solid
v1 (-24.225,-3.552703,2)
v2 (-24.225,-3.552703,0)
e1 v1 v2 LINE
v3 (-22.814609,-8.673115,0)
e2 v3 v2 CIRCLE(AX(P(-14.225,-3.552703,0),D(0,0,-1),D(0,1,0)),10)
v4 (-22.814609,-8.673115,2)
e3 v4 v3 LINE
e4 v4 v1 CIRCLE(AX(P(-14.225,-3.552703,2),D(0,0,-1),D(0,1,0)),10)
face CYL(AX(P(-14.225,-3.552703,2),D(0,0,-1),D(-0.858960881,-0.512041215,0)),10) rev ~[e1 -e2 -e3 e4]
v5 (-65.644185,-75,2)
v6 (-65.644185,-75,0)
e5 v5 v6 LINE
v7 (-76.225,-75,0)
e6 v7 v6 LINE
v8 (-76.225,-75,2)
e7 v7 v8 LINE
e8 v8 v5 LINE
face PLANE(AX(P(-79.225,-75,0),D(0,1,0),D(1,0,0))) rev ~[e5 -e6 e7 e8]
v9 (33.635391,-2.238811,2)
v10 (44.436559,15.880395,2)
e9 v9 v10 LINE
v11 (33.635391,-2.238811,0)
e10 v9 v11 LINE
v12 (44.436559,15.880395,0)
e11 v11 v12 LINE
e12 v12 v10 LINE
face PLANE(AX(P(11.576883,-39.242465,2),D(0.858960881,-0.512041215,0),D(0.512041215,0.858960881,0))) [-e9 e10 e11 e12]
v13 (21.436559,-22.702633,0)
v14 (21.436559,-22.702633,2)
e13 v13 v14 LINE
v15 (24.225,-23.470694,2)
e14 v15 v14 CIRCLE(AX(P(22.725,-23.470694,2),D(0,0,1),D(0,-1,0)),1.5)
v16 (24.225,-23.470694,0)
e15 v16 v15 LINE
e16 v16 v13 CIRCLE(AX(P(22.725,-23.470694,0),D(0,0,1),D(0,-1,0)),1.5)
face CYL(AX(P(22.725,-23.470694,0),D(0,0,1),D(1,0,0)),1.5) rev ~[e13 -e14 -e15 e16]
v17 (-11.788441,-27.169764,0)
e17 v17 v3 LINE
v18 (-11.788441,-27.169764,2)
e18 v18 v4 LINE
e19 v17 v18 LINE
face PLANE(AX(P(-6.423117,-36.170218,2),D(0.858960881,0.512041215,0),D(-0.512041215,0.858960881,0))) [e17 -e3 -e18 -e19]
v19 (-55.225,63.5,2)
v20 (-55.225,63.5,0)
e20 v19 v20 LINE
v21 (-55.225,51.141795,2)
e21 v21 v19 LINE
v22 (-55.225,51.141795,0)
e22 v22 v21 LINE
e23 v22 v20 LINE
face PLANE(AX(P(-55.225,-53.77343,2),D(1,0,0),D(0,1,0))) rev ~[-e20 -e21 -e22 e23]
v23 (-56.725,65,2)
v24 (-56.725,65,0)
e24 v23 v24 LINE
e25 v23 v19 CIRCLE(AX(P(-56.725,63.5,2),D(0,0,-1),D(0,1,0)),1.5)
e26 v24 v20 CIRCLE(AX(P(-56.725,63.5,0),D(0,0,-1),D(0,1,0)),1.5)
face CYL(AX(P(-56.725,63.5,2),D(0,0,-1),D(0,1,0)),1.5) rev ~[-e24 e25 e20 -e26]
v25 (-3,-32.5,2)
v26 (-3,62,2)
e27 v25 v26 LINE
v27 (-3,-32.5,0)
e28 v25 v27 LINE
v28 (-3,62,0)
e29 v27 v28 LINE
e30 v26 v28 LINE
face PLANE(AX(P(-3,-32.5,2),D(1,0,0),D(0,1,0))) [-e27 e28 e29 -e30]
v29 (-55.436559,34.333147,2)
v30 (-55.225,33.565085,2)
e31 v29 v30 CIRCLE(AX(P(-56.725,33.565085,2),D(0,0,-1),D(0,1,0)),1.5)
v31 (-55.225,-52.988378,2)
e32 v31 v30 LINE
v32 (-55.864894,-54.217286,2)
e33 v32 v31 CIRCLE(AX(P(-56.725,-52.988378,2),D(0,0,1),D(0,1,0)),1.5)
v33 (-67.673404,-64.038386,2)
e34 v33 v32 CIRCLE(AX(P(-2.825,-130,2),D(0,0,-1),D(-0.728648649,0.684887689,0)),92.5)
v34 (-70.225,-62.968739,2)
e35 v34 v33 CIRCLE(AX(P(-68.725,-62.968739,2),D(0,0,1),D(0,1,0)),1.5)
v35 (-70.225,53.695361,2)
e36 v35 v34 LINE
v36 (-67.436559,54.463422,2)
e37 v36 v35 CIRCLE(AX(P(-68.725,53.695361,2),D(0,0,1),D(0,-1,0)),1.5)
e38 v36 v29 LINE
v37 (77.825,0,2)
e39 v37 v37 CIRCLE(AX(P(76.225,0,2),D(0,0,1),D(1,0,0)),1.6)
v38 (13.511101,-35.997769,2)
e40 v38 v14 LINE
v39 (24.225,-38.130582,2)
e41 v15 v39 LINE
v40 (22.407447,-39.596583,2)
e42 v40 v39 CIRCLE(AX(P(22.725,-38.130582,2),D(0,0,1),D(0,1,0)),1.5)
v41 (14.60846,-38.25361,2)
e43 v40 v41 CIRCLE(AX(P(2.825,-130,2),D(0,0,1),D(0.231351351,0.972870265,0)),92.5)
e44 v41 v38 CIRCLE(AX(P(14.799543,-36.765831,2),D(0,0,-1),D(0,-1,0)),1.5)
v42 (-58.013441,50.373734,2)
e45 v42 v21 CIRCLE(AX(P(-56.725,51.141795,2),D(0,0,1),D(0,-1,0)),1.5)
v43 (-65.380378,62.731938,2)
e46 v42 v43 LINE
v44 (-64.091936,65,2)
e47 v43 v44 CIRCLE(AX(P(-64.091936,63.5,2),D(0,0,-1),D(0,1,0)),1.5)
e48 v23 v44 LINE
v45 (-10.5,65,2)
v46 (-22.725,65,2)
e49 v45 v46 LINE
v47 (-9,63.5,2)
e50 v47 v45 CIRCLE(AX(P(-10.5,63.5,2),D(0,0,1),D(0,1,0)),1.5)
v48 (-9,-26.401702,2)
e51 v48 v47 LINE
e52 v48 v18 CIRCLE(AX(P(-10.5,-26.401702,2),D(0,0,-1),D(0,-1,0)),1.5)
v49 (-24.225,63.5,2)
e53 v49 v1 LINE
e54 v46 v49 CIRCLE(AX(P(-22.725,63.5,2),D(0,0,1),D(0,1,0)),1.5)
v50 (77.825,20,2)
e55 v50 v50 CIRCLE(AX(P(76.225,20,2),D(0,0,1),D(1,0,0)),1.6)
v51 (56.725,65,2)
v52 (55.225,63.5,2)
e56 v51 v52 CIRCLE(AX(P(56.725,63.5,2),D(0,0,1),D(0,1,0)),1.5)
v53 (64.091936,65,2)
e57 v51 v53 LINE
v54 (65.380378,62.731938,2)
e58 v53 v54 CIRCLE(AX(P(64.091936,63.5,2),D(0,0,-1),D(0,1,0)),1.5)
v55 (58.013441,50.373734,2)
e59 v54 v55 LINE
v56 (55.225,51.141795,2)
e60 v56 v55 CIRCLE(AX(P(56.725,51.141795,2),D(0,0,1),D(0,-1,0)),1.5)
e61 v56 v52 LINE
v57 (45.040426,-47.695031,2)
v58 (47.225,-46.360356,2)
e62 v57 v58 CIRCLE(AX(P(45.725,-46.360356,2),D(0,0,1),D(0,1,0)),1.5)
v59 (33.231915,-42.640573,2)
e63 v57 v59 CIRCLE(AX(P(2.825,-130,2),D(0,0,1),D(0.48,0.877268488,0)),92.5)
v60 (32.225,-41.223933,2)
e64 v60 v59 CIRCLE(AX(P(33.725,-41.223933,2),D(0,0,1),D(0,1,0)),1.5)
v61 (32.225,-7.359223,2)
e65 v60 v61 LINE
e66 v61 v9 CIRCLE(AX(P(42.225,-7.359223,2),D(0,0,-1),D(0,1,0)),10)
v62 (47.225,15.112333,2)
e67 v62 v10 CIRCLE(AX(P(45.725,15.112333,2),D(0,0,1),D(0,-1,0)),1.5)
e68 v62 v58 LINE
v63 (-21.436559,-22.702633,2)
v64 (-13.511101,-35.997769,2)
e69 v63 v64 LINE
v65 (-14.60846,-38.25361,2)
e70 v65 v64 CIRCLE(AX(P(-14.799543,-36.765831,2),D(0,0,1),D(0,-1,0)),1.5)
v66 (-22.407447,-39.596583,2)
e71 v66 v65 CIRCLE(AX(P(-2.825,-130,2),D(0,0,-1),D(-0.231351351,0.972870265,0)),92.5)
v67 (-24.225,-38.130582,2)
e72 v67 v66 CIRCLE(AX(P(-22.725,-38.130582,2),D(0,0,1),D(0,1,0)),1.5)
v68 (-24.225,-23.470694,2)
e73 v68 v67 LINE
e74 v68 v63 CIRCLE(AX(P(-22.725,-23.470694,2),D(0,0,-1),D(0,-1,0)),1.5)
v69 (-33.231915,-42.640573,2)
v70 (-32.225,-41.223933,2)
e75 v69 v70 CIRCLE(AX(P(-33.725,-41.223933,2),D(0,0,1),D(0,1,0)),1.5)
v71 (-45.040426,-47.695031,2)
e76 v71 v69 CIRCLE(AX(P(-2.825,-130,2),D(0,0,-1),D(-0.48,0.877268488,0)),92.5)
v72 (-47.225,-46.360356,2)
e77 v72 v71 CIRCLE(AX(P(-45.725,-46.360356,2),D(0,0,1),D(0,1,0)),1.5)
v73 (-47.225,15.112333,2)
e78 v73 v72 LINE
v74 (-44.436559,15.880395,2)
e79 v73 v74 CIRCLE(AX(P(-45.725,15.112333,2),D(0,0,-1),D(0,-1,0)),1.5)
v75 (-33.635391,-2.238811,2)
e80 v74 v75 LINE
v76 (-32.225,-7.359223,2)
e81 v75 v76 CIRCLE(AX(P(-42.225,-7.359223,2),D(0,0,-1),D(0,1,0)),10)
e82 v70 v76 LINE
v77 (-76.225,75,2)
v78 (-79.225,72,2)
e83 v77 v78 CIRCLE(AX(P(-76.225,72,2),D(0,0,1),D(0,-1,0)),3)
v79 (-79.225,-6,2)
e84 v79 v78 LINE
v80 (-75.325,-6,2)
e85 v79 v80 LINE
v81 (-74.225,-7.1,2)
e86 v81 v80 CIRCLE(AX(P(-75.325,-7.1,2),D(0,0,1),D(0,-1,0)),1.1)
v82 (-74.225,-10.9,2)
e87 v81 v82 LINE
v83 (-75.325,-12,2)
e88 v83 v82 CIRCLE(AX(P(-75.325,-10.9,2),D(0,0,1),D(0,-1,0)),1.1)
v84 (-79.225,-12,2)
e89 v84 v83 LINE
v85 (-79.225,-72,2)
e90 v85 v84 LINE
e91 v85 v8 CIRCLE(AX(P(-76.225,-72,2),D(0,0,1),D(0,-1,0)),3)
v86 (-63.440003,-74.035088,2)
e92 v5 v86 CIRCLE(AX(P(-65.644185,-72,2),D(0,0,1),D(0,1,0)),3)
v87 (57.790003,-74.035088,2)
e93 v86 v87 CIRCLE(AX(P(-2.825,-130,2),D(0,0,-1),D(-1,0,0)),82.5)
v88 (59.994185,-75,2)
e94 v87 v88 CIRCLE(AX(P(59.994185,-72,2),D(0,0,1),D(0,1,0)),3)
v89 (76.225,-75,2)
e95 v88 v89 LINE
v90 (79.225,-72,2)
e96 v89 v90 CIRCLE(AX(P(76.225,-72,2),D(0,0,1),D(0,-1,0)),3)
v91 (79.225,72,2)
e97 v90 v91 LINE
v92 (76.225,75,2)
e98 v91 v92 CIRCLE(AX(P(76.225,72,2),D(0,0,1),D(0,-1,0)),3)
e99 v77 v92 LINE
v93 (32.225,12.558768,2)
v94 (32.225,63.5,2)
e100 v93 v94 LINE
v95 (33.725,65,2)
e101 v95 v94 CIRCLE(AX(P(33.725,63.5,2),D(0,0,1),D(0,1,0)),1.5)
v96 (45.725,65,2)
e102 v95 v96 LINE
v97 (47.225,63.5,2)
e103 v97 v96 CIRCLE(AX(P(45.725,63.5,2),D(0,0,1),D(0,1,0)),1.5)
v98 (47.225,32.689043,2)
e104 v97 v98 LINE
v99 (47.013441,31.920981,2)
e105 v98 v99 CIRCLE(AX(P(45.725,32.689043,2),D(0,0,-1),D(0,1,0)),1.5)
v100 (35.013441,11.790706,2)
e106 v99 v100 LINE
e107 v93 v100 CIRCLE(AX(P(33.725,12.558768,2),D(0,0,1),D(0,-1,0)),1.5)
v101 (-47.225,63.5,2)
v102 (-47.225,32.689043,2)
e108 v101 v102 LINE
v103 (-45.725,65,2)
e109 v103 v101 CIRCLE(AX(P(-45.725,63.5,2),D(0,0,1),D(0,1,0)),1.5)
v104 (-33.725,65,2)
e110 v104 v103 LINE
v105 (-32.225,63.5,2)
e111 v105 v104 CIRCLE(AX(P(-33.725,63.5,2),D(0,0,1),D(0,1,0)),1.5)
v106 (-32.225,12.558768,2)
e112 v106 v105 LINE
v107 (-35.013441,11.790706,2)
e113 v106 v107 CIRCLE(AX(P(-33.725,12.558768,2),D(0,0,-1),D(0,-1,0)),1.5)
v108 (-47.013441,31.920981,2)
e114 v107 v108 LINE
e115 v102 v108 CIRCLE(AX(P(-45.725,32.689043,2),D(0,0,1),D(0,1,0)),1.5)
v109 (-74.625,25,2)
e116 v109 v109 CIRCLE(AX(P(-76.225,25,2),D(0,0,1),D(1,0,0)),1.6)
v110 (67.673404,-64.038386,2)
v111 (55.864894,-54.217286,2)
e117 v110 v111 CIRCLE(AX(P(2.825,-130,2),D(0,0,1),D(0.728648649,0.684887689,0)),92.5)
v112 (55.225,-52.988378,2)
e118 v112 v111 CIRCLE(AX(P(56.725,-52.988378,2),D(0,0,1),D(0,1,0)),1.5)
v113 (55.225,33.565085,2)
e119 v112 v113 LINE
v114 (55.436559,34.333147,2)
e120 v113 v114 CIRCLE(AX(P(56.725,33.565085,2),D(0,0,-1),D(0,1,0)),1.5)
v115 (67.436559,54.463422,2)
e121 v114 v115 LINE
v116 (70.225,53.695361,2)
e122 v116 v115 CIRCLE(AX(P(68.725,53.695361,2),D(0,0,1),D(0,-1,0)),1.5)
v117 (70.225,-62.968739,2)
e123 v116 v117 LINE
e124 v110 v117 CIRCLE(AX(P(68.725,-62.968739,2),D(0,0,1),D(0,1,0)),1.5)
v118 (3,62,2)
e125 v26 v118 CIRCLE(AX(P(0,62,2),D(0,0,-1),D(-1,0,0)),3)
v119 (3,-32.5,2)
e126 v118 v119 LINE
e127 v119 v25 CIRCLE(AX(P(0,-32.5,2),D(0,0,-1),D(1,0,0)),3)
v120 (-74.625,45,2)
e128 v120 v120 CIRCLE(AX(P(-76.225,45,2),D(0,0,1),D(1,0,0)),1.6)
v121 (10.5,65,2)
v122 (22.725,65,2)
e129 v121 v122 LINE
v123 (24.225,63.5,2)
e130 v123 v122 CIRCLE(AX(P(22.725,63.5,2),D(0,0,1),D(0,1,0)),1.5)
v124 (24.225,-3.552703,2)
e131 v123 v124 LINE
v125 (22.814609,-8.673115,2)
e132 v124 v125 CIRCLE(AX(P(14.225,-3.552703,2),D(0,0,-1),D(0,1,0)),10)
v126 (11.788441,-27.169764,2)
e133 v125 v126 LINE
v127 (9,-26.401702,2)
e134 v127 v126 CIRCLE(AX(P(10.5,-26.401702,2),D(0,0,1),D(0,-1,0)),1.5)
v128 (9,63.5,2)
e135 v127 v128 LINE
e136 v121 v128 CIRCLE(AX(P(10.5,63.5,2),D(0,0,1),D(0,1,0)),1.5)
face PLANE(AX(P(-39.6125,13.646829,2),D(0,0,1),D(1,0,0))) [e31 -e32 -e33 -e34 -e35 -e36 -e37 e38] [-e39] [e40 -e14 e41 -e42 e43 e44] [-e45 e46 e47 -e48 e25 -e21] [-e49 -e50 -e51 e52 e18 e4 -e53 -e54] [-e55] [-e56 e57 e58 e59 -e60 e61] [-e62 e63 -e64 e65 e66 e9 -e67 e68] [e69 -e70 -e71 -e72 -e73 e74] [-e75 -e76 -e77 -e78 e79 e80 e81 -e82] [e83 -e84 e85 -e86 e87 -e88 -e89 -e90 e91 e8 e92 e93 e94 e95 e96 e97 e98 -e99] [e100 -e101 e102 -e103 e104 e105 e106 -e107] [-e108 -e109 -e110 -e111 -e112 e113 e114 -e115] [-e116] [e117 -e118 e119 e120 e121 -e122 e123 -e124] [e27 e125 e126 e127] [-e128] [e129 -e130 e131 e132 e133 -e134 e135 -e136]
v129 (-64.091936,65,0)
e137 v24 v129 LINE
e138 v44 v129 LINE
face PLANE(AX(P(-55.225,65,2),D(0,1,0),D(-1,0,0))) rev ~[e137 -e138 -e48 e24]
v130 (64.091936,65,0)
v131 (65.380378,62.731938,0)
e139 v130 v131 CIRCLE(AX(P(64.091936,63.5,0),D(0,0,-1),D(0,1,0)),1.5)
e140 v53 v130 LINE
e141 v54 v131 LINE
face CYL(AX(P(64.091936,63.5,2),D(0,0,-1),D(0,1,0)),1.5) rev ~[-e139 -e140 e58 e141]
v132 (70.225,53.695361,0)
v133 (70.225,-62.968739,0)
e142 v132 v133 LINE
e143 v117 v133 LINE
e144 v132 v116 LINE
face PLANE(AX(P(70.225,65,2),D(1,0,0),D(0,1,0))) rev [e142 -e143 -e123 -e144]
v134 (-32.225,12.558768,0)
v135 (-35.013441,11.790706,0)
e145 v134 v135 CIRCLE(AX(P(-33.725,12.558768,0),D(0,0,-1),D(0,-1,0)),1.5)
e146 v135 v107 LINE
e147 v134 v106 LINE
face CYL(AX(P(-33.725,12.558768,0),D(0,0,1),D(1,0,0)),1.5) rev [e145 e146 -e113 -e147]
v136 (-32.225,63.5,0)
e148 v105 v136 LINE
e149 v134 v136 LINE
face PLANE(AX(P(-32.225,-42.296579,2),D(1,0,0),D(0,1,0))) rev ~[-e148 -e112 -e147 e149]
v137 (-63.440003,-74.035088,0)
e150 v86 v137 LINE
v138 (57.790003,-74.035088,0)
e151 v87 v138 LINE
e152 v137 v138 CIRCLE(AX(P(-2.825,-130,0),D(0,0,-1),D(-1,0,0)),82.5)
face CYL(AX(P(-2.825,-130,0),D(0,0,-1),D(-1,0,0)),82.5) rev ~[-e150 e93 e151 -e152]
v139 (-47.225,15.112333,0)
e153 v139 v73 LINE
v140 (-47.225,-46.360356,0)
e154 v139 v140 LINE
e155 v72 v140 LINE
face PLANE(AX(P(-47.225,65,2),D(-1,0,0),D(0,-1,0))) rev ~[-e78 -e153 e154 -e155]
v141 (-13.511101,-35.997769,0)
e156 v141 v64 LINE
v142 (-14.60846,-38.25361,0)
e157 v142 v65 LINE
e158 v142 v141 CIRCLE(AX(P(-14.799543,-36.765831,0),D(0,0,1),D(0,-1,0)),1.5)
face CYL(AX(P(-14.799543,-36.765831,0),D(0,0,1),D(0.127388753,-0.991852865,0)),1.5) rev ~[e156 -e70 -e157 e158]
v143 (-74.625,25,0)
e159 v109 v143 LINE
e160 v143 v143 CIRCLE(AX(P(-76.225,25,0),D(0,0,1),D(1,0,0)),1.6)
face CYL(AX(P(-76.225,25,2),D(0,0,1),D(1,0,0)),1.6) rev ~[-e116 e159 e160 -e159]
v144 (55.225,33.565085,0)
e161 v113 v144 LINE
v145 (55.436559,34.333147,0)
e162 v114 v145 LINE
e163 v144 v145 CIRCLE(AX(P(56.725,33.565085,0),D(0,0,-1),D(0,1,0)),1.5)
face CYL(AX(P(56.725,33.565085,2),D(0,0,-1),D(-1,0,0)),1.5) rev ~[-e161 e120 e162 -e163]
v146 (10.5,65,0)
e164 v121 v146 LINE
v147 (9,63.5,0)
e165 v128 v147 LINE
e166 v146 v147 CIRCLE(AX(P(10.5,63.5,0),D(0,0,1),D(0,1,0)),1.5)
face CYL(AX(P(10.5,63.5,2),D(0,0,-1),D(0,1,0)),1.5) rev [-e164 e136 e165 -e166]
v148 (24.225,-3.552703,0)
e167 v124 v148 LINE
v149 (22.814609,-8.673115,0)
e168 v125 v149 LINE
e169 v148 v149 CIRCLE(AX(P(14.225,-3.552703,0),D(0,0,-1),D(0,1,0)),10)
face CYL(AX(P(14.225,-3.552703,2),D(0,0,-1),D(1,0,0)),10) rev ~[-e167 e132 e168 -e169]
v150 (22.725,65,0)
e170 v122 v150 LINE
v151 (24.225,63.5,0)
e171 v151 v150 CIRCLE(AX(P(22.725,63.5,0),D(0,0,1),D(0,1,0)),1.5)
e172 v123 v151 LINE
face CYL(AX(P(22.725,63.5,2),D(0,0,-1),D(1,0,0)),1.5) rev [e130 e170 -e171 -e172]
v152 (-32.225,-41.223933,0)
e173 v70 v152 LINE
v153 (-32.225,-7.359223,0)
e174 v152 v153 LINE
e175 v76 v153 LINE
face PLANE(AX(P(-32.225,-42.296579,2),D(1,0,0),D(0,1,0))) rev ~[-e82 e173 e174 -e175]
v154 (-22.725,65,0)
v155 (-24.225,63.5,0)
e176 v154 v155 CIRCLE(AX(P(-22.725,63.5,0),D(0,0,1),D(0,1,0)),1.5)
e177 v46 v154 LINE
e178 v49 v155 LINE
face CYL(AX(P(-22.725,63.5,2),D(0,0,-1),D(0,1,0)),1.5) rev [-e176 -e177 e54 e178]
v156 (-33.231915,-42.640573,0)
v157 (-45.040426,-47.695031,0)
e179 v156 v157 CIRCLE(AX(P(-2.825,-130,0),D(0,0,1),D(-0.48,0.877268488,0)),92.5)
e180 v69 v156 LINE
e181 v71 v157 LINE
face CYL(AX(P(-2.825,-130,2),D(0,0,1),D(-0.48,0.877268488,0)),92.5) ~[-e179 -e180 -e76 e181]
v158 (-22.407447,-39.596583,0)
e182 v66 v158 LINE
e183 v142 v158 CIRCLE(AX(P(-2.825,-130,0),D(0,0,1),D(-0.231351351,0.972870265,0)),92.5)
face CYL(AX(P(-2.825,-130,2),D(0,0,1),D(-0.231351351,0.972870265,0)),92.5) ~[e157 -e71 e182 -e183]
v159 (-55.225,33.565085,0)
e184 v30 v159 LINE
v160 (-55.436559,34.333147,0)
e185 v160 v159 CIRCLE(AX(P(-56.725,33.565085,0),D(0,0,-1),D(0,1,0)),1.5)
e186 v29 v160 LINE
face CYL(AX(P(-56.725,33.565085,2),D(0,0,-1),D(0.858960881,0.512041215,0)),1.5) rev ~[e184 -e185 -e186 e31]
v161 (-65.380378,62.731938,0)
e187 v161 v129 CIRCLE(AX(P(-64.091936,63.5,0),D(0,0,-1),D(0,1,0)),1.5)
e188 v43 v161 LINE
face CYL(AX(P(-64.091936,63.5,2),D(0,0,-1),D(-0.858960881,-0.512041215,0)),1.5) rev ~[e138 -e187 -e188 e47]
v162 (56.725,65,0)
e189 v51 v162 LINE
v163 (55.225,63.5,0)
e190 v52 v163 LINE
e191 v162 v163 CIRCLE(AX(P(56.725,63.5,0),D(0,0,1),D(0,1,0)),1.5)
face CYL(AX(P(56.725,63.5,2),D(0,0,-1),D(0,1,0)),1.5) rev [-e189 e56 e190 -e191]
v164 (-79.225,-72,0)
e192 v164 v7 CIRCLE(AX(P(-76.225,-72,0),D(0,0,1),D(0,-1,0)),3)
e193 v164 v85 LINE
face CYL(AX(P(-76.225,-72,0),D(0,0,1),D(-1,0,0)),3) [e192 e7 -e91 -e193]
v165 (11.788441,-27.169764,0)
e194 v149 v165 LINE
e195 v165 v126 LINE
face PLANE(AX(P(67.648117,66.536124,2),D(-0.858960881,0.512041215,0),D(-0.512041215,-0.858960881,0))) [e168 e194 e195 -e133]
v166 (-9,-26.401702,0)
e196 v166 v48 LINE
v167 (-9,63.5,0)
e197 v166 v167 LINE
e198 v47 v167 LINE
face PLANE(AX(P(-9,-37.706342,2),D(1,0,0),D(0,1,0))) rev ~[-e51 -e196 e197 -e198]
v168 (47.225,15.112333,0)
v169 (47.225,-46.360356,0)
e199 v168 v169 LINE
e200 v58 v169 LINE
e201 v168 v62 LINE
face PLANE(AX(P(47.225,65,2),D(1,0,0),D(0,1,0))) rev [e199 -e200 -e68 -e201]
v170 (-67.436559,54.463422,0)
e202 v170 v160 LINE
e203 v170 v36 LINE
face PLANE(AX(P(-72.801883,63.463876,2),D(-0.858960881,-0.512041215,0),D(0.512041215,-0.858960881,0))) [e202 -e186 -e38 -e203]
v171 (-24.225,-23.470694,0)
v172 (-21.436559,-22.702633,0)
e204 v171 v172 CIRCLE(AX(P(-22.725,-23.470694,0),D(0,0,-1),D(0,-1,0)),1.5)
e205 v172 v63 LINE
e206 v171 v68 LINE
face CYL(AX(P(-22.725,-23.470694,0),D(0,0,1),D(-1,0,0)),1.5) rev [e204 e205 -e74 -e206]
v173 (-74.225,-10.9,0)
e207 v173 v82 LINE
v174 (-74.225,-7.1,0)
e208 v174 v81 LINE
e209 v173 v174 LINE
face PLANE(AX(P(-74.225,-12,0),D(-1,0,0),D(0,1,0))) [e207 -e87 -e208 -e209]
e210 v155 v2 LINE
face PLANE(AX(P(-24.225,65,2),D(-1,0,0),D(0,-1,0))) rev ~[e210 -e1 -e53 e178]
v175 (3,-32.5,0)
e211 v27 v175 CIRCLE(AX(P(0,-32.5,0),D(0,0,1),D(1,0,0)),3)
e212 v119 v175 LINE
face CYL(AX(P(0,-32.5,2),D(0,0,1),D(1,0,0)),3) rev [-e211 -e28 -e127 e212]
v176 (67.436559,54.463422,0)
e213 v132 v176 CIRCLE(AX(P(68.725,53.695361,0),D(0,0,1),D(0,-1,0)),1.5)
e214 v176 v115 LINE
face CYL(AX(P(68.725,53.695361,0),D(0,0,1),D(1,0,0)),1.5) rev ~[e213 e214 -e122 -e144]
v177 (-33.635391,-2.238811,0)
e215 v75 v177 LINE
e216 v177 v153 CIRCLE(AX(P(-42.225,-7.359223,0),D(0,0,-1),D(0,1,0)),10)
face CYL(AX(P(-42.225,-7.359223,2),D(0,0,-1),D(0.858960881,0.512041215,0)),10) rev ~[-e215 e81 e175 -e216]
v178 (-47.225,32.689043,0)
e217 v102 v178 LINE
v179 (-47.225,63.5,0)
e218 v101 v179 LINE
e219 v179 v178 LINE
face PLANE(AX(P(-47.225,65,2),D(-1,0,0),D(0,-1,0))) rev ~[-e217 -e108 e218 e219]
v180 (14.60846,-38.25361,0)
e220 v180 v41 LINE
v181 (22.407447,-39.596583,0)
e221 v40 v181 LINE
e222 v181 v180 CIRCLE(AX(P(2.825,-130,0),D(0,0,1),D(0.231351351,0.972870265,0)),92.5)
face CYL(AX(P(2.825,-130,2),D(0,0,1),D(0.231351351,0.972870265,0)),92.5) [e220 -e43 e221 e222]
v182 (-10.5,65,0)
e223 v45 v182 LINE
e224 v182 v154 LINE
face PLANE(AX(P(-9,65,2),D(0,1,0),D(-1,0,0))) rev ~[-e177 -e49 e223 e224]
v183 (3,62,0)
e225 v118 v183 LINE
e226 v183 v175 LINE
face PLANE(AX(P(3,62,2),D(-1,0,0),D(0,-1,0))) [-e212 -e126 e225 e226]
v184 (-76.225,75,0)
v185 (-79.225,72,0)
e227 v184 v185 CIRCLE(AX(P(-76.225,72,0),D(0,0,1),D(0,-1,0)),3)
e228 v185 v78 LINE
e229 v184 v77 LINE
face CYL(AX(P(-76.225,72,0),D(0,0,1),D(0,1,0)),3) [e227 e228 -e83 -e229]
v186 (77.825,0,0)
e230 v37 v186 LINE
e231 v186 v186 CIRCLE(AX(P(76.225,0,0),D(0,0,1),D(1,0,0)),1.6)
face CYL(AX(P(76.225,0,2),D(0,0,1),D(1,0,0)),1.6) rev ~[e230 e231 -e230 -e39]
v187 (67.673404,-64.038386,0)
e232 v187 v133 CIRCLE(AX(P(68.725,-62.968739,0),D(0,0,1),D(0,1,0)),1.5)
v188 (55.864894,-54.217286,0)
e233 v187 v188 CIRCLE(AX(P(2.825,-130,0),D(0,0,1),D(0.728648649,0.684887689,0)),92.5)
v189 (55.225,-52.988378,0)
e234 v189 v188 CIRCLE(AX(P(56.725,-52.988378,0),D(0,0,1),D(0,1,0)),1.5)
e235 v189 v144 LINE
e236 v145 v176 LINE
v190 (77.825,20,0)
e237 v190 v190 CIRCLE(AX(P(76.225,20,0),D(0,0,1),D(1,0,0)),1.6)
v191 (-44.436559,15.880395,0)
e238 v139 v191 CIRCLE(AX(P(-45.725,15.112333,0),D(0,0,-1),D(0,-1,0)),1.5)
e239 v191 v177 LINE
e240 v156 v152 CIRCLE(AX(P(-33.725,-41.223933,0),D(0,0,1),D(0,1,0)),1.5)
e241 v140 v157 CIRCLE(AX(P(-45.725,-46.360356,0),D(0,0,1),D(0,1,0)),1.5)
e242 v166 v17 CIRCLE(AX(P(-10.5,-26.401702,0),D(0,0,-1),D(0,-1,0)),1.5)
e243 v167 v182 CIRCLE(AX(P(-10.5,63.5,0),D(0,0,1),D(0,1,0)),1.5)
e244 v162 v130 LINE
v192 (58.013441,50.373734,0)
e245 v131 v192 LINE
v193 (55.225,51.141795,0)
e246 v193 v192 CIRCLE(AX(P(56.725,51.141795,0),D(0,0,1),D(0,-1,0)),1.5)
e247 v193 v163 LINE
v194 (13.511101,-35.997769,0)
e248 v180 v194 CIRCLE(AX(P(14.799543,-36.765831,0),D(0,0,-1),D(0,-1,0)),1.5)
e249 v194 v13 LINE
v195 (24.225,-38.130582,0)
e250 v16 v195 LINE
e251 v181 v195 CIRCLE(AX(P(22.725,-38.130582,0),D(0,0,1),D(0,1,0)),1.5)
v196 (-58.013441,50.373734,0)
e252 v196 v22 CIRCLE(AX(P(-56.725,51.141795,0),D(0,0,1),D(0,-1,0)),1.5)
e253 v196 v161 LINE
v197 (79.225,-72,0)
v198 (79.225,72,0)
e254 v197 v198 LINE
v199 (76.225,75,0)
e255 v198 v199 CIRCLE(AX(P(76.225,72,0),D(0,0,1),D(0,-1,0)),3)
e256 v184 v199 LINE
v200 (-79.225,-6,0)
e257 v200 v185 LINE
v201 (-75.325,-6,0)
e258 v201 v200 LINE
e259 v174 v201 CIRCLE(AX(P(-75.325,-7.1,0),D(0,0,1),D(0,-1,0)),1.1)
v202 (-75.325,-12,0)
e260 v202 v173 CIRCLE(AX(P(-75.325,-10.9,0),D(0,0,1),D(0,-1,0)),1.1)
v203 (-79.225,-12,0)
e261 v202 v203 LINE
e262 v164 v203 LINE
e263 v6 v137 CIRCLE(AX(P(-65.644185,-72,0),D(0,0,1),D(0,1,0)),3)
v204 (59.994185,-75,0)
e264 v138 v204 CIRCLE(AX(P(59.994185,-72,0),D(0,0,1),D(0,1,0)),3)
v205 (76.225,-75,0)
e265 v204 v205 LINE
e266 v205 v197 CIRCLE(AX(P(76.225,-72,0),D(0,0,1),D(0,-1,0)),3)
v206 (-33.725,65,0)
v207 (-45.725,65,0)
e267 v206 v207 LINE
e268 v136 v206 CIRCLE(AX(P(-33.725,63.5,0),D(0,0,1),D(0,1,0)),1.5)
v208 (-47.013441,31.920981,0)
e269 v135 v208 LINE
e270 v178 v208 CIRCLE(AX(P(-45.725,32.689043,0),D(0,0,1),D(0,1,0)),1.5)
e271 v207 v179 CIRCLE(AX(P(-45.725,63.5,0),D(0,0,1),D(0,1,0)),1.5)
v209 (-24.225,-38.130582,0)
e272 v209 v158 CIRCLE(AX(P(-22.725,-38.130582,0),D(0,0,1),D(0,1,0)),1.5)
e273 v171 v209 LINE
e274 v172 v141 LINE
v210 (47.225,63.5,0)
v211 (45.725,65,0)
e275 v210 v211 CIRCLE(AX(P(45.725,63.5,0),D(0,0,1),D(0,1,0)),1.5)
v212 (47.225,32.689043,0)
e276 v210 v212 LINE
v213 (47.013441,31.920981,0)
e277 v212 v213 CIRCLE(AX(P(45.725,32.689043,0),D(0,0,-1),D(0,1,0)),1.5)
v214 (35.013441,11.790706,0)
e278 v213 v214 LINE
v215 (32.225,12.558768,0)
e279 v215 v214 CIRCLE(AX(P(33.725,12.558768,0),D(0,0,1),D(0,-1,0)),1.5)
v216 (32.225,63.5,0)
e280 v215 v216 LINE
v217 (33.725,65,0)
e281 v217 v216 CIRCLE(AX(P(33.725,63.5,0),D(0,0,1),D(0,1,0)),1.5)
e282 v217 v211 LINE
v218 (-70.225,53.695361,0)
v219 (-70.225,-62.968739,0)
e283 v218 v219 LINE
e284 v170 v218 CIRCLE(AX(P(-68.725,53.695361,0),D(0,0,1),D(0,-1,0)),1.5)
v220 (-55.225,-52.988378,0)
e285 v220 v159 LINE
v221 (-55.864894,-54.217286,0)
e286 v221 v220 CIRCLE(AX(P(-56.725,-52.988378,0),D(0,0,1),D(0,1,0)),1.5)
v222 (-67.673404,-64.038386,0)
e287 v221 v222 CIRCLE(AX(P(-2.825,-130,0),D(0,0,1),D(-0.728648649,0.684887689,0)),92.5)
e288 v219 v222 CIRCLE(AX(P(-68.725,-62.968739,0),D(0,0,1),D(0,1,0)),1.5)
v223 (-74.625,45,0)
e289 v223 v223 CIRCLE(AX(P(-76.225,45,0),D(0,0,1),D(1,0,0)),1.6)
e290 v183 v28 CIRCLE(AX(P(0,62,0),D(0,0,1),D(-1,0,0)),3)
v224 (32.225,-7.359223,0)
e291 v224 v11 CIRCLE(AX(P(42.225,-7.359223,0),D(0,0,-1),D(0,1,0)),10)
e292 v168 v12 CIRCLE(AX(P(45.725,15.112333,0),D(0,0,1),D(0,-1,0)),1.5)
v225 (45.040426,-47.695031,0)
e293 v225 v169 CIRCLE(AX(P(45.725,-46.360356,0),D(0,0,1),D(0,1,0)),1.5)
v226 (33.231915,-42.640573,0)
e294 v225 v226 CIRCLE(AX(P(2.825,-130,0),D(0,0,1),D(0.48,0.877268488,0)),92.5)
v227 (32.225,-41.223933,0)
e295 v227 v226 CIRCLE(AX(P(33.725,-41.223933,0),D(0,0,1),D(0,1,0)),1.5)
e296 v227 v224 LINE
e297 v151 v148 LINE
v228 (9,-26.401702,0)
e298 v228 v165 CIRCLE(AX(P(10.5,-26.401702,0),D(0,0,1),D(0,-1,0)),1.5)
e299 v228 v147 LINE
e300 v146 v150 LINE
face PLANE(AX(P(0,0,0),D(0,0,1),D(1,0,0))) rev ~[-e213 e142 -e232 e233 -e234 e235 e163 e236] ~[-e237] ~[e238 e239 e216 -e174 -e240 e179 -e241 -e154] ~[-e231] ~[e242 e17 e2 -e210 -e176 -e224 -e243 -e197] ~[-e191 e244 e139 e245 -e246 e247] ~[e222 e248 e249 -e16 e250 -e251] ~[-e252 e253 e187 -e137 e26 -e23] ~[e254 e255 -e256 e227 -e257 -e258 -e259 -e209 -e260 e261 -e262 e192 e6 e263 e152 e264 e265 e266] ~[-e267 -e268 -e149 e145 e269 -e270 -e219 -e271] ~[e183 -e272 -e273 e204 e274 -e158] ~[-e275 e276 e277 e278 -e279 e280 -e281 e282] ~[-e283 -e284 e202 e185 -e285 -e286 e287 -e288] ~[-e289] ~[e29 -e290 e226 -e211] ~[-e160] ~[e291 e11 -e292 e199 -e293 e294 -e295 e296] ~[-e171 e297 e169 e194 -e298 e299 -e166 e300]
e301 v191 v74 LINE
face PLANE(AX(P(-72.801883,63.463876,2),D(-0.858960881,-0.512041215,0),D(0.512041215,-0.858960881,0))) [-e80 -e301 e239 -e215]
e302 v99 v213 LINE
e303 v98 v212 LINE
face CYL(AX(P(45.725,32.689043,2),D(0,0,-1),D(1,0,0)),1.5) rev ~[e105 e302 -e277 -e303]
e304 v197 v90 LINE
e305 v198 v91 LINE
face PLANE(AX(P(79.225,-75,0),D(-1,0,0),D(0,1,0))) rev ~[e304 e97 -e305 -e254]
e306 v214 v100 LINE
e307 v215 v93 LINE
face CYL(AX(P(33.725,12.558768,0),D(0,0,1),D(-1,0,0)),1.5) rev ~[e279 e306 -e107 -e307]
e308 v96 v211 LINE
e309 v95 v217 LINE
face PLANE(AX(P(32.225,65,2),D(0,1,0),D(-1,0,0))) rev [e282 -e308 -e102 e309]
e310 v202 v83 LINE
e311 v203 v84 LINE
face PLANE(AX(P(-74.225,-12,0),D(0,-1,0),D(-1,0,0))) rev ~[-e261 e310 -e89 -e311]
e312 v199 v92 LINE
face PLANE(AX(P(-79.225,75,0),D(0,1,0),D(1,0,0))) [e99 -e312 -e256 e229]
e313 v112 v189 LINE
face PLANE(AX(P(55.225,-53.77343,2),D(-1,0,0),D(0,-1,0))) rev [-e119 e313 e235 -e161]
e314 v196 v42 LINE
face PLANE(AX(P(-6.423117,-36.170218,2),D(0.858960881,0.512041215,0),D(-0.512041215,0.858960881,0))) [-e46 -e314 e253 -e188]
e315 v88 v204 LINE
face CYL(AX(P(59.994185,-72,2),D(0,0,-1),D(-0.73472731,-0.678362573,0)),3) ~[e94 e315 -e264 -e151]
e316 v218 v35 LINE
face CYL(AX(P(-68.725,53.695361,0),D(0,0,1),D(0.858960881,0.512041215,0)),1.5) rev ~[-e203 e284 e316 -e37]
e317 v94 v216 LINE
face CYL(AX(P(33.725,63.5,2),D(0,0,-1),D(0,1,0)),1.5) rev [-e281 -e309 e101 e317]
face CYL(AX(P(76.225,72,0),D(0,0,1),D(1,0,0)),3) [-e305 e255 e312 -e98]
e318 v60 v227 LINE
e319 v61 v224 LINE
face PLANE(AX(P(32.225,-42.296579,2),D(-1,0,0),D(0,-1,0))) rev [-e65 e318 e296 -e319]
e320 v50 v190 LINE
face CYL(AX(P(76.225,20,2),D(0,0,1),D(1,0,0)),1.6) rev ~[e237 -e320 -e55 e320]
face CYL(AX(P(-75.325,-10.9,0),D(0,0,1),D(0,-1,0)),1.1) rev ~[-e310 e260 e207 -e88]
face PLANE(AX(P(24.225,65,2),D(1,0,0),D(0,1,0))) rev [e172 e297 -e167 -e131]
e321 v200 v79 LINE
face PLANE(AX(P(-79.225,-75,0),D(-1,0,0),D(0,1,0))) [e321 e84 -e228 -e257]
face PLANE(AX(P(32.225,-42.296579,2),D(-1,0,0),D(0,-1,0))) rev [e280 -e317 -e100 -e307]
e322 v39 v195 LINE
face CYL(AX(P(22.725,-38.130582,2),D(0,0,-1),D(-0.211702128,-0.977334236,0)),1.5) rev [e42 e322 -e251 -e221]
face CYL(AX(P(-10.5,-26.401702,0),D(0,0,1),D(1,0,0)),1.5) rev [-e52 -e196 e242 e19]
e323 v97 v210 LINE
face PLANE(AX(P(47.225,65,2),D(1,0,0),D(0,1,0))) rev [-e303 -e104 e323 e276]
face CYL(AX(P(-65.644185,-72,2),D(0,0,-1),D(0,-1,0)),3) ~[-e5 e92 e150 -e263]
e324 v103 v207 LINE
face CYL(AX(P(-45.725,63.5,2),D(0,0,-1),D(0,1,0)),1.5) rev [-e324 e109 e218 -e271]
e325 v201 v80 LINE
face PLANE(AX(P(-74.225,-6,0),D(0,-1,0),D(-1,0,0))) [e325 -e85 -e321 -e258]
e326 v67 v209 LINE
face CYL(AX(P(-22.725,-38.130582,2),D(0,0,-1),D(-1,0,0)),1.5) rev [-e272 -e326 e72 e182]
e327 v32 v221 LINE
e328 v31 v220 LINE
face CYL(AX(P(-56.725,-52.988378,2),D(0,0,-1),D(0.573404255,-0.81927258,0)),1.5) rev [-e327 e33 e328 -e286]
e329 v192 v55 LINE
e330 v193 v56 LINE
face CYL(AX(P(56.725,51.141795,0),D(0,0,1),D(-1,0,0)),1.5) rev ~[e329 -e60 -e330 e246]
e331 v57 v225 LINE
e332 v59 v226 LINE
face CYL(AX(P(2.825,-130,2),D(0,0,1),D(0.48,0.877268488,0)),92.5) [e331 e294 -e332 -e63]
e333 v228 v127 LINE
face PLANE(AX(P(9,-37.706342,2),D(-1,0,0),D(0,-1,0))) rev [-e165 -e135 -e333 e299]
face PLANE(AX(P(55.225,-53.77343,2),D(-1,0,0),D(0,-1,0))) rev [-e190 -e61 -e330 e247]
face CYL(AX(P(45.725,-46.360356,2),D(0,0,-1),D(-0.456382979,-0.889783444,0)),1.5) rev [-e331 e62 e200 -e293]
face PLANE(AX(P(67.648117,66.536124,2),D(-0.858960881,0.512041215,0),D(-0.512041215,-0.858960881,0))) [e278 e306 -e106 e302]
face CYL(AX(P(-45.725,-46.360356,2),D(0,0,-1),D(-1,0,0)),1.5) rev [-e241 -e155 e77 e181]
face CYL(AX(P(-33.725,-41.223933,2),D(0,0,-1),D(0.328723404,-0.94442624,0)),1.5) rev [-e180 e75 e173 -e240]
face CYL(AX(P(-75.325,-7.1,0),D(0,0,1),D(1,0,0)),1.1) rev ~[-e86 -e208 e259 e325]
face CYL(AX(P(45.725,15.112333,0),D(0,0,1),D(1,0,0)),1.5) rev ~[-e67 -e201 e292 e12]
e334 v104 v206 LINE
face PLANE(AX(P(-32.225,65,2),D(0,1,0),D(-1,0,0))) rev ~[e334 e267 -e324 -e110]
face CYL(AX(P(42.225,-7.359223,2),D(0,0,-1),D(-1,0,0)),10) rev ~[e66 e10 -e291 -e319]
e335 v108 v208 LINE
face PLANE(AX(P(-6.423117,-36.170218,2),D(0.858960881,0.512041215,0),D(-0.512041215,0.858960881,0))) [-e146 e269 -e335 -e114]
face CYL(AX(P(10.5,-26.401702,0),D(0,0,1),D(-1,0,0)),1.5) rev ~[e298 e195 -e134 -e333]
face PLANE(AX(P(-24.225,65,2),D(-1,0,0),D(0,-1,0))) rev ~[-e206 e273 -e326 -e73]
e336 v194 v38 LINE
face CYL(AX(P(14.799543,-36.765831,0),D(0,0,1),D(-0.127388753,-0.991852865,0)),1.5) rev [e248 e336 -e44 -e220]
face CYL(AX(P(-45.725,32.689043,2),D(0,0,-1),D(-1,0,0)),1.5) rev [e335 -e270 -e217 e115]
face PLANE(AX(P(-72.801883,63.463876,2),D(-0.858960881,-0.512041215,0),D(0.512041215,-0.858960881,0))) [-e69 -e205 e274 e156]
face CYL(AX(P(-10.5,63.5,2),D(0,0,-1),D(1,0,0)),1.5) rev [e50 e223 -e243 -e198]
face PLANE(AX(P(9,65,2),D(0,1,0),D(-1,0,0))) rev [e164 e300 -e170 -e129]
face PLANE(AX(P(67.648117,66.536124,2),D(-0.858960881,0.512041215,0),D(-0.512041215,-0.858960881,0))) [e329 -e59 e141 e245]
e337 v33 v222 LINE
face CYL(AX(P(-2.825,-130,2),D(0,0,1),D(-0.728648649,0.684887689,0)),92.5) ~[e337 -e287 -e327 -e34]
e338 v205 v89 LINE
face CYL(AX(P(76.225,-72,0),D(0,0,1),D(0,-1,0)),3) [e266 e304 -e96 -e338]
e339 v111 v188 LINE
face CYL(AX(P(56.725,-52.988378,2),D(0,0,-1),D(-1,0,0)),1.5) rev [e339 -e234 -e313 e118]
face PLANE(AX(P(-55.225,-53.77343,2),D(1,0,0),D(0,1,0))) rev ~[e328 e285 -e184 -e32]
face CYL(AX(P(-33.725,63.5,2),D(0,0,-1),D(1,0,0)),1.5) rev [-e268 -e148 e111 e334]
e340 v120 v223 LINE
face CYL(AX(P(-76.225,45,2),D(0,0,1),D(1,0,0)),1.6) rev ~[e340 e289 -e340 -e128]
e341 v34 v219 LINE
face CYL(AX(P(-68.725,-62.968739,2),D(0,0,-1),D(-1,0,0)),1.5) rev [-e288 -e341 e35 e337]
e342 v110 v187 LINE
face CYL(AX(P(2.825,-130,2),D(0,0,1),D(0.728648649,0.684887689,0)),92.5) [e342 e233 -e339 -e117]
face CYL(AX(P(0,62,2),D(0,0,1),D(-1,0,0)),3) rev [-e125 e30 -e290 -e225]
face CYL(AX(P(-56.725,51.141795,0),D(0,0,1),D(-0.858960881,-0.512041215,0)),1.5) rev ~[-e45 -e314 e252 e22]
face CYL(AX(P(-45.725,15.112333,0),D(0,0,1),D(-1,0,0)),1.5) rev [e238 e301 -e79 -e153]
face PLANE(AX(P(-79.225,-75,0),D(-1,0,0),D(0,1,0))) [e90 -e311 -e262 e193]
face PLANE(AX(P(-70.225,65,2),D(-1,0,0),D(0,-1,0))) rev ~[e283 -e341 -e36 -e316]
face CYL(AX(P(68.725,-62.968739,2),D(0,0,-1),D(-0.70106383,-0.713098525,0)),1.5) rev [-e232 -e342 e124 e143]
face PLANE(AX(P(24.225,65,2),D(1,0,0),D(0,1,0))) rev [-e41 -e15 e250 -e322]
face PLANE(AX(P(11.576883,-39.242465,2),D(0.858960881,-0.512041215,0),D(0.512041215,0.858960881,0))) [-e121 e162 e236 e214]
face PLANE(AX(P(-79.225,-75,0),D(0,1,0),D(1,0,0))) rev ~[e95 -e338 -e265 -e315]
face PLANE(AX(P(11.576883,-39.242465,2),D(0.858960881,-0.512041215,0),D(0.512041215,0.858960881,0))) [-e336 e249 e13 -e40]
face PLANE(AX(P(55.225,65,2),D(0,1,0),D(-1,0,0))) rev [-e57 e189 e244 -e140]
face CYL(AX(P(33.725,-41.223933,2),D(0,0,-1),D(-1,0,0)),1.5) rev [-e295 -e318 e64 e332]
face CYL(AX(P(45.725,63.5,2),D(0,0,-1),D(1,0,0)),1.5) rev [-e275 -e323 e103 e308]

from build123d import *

# Parameters (mm, degrees)
SKETCH_1_W          = 158.45
SKETCH_1_H          = 150
EXTRUDE_1_DEPTH     = 2
SKETCH_2_R          = 82.5
CUT_EXTRUDE_1_DEPTH = 10
SKETCH_4_W          = 10
SKETCH_4_H          = 6
CUT_EXTRUDE_2_DEPTH = 10
FILLET_1_R          = 1.1
SKETCH_5_R          = 1.6
CUT_EXTRUDE_3_DEPTH = 10
CUT_EXTRUDE_4_DEPTH = 10
EXTRUDE_2_DEPTH     = 2
FILLET_2_R          = 1.5
FILLET_3_R          = 10
FILLET_4_R          = 3
CUT_EXTRUDE_5_DEPTH = 10


with BuildPart() as part:
    # 草图1 → 凸台-拉伸1 (new body)
    with BuildSketch(Plane.XY):
        Rectangle(SKETCH_1_W, SKETCH_1_H)
    extrude(amount=EXTRUDE_1_DEPTH)

    # 草图2 → 切除-拉伸1 (cut)
    with BuildSketch(Plane(origin=(0, 0, 0), x_dir=(-1, 0, 0), z_dir=(0, 0, -1))):
        with Locations((2.825, -130)):
            Circle(SKETCH_2_R)
    extrude(amount=-CUT_EXTRUDE_1_DEPTH, mode=Mode.SUBTRACT)

    # 草图4 → 切除-拉伸2 (cut)
    with BuildSketch(Plane(origin=(0, 0, 0), x_dir=(-1, 0, 0), z_dir=(0, 0, -1))):
        with Locations((79.225, -9)):
            Rectangle(SKETCH_4_W, SKETCH_4_H)
    extrude(amount=-CUT_EXTRUDE_2_DEPTH, mode=Mode.SUBTRACT)

    # 圆角1
    fillet_1_edges = [part.edges().sort_by_distance(p)[0] for p in [
        (-74.225, -12, 1),
        (-74.225, -6, 1),
    ]]
    fillet(fillet_1_edges, radius=FILLET_1_R)

    # 草图5 → 切除-拉伸3 (cut)
    with BuildSketch(Plane.XY.offset(2)):
        with Locations((76.225, 20)):
            Circle(SKETCH_5_R)
        with Locations((76.225, 0)):
            Circle(SKETCH_5_R)
        with Locations((-76.225, 45)):
            Circle(SKETCH_5_R)
        with Locations((-76.225, 25)):
            Circle(SKETCH_5_R)
    extrude(amount=-CUT_EXTRUDE_3_DEPTH, mode=Mode.SUBTRACT)

    # 草图6 → 切除-拉伸4 (cut)
    with BuildSketch(Plane.XY.offset(2)):
        with BuildLine():
            Line((-55.225, 65), (-70.225, 65))
            Line((-70.225, 65), (-70.225, -66.647888749))
            ThreePointArc((-70.225, -66.647888749), (-63.069899561, -59.80881767), (-55.225, -53.773429829))
            Line((-55.225, -53.773429829), (-55.225, 65))
        make_face()
        with BuildLine():
            Line((-32.225, 65), (-47.225, 65))
            Line((-47.225, 65), (-47.225, -48.852664862))
            ThreePointArc((-47.225, -48.852664862), (-39.870317713, -45.242142337), (-32.225, -42.296579314))
            Line((-32.225, -42.296579314), (-32.225, 65))
        make_face()
        with BuildLine():
            Line((-9, 65), (-24.225, 65))
            Line((-24.225, 65), (-24.225, -40.009500501))
            ThreePointArc((-24.225, -40.009500501), (-16.660508355, -38.540562496), (-9, -37.706341632))
            Line((-9, -37.706341632), (-9, 65))
        make_face()
    cut_extrude_4 = extrude(amount=-CUT_EXTRUDE_4_DEPTH, mode=Mode.SUBTRACT)

    # 镜向1: 切除-拉伸4 across plane
    add(cut_extrude_4.mirror(Plane(origin=(0, 0, 0), x_dir=(0, 0, 1), z_dir=(1, 0, 0))), mode=Mode.SUBTRACT)

    # 草图7 → 凸台-拉伸2 (add)
    with BuildSketch(Plane.XY.offset(2)):
        Polygon((-72.801882642, 63.463876356), (-11.576882642, -39.242465276), (-6.423117358, -36.170217988), (-67.648117358, 66.536123644), align=None)
        Polygon((67.648117358, 66.536123644), (6.423117358, -36.170217988), (11.576882642, -39.242465276), (72.801882642, 63.463876356), align=None)
    extrude(amount=-EXTRUDE_2_DEPTH)

    # 圆角2
    fillet_2_edges = [part.edges().sort_by_distance(p)[0] for p in [
        (-32.225, -42.296579314, 1),
        (-47.225, -48.852664862, 1),
        (-47.225, 65, 1),
        (-32.225, 65, 1),
        (-24.225, -40.009500501, 1),
        (-24.225, 65, 1),
        (-9, 65, 1),
        (70.225, -66.647888749, 1),
        (55.225, -53.773429829, 1),
        (55.225, 65, 1),
        (47.225, -48.852664862, 1),
        (32.225, -42.296579314, 1),
        (32.225, 65, 1),
        (47.225, 65, 1),
        (24.225, -40.009500501, 1),
        (9, 65, 1),
        (24.225, 65, 1),
        (-55.225, 45.696059365, 1),
        (-55.225, 33.978252617, 1),
        (-12.32407353, -37.989035425, 1),
        (-24.225, -18.024958336, 1),
        (-47.225, 20.558069145, 1),
        (-9, -31.847438258, 1),
        (-32.225, 7.113031883, 1),
        (-47.225, 32.275875893, 1),
        (-70.225, 59.141096626, 1),
        (-66.732407884, 65, 1),
        (70.225, 59.141096626, 1),
        (66.732407884, 65, 1),
        (32.225, 7.113031883, 1),
        (47.225, 32.275875893, 1),
        (55.225, 45.696059365, 1),
        (9, -31.847438258, 1),
        (24.225, -18.024958336, 1),
        (47.225, 20.558069145, 1),
        (55.225, 33.978252617, 1),
        (12.32407353, -37.989035425, 1),
        (-55.225, -53.773429829, 1),
        (-70.225, -66.647888749, 1),
        (-55.225, 65, 1),
    ]]
    fillet(fillet_2_edges, radius=FILLET_2_R)

    # 圆角3
    fillet_3_edges = [part.edges().sort_by_distance(p)[0] for p in [
        (-32.225, -4.604774864, 1),
        (-24.225, -6.307151588, 1),
        (24.225, -6.307151588, 1),
        (32.225, -4.604774864, 1),
    ]]
    fillet(fillet_3_edges, radius=FILLET_3_R)

    # 圆角4
    fillet_4_edges = [part.edges().sort_by_distance(p)[0] for p in [
        (58.666869381, -75, 1),
        (-64.316869381, -75, 1),
        (79.225, -75, 1),
        (-79.225, -75, 1),
        (-79.225, 75, 1),
        (79.225, 75, 1),
    ]]
    fillet(fillet_4_edges, radius=FILLET_4_R)

    # 草图10 → 切除-拉伸5 (cut)
    with BuildSketch(Plane.XY.offset(2)):
        with BuildLine():
            Line((3, 62), (3, -32.5))
            ThreePointArc((3, -32.5), (0, -35.5), (-3, -32.5))
            Line((-3, -32.5), (-3, 62))
            ThreePointArc((-3, 62), (0, 65), (3, 62))
        make_face()
    extrude(amount=-CUT_EXTRUDE_5_DEPTH, mode=Mode.SUBTRACT)


solid = part.part
